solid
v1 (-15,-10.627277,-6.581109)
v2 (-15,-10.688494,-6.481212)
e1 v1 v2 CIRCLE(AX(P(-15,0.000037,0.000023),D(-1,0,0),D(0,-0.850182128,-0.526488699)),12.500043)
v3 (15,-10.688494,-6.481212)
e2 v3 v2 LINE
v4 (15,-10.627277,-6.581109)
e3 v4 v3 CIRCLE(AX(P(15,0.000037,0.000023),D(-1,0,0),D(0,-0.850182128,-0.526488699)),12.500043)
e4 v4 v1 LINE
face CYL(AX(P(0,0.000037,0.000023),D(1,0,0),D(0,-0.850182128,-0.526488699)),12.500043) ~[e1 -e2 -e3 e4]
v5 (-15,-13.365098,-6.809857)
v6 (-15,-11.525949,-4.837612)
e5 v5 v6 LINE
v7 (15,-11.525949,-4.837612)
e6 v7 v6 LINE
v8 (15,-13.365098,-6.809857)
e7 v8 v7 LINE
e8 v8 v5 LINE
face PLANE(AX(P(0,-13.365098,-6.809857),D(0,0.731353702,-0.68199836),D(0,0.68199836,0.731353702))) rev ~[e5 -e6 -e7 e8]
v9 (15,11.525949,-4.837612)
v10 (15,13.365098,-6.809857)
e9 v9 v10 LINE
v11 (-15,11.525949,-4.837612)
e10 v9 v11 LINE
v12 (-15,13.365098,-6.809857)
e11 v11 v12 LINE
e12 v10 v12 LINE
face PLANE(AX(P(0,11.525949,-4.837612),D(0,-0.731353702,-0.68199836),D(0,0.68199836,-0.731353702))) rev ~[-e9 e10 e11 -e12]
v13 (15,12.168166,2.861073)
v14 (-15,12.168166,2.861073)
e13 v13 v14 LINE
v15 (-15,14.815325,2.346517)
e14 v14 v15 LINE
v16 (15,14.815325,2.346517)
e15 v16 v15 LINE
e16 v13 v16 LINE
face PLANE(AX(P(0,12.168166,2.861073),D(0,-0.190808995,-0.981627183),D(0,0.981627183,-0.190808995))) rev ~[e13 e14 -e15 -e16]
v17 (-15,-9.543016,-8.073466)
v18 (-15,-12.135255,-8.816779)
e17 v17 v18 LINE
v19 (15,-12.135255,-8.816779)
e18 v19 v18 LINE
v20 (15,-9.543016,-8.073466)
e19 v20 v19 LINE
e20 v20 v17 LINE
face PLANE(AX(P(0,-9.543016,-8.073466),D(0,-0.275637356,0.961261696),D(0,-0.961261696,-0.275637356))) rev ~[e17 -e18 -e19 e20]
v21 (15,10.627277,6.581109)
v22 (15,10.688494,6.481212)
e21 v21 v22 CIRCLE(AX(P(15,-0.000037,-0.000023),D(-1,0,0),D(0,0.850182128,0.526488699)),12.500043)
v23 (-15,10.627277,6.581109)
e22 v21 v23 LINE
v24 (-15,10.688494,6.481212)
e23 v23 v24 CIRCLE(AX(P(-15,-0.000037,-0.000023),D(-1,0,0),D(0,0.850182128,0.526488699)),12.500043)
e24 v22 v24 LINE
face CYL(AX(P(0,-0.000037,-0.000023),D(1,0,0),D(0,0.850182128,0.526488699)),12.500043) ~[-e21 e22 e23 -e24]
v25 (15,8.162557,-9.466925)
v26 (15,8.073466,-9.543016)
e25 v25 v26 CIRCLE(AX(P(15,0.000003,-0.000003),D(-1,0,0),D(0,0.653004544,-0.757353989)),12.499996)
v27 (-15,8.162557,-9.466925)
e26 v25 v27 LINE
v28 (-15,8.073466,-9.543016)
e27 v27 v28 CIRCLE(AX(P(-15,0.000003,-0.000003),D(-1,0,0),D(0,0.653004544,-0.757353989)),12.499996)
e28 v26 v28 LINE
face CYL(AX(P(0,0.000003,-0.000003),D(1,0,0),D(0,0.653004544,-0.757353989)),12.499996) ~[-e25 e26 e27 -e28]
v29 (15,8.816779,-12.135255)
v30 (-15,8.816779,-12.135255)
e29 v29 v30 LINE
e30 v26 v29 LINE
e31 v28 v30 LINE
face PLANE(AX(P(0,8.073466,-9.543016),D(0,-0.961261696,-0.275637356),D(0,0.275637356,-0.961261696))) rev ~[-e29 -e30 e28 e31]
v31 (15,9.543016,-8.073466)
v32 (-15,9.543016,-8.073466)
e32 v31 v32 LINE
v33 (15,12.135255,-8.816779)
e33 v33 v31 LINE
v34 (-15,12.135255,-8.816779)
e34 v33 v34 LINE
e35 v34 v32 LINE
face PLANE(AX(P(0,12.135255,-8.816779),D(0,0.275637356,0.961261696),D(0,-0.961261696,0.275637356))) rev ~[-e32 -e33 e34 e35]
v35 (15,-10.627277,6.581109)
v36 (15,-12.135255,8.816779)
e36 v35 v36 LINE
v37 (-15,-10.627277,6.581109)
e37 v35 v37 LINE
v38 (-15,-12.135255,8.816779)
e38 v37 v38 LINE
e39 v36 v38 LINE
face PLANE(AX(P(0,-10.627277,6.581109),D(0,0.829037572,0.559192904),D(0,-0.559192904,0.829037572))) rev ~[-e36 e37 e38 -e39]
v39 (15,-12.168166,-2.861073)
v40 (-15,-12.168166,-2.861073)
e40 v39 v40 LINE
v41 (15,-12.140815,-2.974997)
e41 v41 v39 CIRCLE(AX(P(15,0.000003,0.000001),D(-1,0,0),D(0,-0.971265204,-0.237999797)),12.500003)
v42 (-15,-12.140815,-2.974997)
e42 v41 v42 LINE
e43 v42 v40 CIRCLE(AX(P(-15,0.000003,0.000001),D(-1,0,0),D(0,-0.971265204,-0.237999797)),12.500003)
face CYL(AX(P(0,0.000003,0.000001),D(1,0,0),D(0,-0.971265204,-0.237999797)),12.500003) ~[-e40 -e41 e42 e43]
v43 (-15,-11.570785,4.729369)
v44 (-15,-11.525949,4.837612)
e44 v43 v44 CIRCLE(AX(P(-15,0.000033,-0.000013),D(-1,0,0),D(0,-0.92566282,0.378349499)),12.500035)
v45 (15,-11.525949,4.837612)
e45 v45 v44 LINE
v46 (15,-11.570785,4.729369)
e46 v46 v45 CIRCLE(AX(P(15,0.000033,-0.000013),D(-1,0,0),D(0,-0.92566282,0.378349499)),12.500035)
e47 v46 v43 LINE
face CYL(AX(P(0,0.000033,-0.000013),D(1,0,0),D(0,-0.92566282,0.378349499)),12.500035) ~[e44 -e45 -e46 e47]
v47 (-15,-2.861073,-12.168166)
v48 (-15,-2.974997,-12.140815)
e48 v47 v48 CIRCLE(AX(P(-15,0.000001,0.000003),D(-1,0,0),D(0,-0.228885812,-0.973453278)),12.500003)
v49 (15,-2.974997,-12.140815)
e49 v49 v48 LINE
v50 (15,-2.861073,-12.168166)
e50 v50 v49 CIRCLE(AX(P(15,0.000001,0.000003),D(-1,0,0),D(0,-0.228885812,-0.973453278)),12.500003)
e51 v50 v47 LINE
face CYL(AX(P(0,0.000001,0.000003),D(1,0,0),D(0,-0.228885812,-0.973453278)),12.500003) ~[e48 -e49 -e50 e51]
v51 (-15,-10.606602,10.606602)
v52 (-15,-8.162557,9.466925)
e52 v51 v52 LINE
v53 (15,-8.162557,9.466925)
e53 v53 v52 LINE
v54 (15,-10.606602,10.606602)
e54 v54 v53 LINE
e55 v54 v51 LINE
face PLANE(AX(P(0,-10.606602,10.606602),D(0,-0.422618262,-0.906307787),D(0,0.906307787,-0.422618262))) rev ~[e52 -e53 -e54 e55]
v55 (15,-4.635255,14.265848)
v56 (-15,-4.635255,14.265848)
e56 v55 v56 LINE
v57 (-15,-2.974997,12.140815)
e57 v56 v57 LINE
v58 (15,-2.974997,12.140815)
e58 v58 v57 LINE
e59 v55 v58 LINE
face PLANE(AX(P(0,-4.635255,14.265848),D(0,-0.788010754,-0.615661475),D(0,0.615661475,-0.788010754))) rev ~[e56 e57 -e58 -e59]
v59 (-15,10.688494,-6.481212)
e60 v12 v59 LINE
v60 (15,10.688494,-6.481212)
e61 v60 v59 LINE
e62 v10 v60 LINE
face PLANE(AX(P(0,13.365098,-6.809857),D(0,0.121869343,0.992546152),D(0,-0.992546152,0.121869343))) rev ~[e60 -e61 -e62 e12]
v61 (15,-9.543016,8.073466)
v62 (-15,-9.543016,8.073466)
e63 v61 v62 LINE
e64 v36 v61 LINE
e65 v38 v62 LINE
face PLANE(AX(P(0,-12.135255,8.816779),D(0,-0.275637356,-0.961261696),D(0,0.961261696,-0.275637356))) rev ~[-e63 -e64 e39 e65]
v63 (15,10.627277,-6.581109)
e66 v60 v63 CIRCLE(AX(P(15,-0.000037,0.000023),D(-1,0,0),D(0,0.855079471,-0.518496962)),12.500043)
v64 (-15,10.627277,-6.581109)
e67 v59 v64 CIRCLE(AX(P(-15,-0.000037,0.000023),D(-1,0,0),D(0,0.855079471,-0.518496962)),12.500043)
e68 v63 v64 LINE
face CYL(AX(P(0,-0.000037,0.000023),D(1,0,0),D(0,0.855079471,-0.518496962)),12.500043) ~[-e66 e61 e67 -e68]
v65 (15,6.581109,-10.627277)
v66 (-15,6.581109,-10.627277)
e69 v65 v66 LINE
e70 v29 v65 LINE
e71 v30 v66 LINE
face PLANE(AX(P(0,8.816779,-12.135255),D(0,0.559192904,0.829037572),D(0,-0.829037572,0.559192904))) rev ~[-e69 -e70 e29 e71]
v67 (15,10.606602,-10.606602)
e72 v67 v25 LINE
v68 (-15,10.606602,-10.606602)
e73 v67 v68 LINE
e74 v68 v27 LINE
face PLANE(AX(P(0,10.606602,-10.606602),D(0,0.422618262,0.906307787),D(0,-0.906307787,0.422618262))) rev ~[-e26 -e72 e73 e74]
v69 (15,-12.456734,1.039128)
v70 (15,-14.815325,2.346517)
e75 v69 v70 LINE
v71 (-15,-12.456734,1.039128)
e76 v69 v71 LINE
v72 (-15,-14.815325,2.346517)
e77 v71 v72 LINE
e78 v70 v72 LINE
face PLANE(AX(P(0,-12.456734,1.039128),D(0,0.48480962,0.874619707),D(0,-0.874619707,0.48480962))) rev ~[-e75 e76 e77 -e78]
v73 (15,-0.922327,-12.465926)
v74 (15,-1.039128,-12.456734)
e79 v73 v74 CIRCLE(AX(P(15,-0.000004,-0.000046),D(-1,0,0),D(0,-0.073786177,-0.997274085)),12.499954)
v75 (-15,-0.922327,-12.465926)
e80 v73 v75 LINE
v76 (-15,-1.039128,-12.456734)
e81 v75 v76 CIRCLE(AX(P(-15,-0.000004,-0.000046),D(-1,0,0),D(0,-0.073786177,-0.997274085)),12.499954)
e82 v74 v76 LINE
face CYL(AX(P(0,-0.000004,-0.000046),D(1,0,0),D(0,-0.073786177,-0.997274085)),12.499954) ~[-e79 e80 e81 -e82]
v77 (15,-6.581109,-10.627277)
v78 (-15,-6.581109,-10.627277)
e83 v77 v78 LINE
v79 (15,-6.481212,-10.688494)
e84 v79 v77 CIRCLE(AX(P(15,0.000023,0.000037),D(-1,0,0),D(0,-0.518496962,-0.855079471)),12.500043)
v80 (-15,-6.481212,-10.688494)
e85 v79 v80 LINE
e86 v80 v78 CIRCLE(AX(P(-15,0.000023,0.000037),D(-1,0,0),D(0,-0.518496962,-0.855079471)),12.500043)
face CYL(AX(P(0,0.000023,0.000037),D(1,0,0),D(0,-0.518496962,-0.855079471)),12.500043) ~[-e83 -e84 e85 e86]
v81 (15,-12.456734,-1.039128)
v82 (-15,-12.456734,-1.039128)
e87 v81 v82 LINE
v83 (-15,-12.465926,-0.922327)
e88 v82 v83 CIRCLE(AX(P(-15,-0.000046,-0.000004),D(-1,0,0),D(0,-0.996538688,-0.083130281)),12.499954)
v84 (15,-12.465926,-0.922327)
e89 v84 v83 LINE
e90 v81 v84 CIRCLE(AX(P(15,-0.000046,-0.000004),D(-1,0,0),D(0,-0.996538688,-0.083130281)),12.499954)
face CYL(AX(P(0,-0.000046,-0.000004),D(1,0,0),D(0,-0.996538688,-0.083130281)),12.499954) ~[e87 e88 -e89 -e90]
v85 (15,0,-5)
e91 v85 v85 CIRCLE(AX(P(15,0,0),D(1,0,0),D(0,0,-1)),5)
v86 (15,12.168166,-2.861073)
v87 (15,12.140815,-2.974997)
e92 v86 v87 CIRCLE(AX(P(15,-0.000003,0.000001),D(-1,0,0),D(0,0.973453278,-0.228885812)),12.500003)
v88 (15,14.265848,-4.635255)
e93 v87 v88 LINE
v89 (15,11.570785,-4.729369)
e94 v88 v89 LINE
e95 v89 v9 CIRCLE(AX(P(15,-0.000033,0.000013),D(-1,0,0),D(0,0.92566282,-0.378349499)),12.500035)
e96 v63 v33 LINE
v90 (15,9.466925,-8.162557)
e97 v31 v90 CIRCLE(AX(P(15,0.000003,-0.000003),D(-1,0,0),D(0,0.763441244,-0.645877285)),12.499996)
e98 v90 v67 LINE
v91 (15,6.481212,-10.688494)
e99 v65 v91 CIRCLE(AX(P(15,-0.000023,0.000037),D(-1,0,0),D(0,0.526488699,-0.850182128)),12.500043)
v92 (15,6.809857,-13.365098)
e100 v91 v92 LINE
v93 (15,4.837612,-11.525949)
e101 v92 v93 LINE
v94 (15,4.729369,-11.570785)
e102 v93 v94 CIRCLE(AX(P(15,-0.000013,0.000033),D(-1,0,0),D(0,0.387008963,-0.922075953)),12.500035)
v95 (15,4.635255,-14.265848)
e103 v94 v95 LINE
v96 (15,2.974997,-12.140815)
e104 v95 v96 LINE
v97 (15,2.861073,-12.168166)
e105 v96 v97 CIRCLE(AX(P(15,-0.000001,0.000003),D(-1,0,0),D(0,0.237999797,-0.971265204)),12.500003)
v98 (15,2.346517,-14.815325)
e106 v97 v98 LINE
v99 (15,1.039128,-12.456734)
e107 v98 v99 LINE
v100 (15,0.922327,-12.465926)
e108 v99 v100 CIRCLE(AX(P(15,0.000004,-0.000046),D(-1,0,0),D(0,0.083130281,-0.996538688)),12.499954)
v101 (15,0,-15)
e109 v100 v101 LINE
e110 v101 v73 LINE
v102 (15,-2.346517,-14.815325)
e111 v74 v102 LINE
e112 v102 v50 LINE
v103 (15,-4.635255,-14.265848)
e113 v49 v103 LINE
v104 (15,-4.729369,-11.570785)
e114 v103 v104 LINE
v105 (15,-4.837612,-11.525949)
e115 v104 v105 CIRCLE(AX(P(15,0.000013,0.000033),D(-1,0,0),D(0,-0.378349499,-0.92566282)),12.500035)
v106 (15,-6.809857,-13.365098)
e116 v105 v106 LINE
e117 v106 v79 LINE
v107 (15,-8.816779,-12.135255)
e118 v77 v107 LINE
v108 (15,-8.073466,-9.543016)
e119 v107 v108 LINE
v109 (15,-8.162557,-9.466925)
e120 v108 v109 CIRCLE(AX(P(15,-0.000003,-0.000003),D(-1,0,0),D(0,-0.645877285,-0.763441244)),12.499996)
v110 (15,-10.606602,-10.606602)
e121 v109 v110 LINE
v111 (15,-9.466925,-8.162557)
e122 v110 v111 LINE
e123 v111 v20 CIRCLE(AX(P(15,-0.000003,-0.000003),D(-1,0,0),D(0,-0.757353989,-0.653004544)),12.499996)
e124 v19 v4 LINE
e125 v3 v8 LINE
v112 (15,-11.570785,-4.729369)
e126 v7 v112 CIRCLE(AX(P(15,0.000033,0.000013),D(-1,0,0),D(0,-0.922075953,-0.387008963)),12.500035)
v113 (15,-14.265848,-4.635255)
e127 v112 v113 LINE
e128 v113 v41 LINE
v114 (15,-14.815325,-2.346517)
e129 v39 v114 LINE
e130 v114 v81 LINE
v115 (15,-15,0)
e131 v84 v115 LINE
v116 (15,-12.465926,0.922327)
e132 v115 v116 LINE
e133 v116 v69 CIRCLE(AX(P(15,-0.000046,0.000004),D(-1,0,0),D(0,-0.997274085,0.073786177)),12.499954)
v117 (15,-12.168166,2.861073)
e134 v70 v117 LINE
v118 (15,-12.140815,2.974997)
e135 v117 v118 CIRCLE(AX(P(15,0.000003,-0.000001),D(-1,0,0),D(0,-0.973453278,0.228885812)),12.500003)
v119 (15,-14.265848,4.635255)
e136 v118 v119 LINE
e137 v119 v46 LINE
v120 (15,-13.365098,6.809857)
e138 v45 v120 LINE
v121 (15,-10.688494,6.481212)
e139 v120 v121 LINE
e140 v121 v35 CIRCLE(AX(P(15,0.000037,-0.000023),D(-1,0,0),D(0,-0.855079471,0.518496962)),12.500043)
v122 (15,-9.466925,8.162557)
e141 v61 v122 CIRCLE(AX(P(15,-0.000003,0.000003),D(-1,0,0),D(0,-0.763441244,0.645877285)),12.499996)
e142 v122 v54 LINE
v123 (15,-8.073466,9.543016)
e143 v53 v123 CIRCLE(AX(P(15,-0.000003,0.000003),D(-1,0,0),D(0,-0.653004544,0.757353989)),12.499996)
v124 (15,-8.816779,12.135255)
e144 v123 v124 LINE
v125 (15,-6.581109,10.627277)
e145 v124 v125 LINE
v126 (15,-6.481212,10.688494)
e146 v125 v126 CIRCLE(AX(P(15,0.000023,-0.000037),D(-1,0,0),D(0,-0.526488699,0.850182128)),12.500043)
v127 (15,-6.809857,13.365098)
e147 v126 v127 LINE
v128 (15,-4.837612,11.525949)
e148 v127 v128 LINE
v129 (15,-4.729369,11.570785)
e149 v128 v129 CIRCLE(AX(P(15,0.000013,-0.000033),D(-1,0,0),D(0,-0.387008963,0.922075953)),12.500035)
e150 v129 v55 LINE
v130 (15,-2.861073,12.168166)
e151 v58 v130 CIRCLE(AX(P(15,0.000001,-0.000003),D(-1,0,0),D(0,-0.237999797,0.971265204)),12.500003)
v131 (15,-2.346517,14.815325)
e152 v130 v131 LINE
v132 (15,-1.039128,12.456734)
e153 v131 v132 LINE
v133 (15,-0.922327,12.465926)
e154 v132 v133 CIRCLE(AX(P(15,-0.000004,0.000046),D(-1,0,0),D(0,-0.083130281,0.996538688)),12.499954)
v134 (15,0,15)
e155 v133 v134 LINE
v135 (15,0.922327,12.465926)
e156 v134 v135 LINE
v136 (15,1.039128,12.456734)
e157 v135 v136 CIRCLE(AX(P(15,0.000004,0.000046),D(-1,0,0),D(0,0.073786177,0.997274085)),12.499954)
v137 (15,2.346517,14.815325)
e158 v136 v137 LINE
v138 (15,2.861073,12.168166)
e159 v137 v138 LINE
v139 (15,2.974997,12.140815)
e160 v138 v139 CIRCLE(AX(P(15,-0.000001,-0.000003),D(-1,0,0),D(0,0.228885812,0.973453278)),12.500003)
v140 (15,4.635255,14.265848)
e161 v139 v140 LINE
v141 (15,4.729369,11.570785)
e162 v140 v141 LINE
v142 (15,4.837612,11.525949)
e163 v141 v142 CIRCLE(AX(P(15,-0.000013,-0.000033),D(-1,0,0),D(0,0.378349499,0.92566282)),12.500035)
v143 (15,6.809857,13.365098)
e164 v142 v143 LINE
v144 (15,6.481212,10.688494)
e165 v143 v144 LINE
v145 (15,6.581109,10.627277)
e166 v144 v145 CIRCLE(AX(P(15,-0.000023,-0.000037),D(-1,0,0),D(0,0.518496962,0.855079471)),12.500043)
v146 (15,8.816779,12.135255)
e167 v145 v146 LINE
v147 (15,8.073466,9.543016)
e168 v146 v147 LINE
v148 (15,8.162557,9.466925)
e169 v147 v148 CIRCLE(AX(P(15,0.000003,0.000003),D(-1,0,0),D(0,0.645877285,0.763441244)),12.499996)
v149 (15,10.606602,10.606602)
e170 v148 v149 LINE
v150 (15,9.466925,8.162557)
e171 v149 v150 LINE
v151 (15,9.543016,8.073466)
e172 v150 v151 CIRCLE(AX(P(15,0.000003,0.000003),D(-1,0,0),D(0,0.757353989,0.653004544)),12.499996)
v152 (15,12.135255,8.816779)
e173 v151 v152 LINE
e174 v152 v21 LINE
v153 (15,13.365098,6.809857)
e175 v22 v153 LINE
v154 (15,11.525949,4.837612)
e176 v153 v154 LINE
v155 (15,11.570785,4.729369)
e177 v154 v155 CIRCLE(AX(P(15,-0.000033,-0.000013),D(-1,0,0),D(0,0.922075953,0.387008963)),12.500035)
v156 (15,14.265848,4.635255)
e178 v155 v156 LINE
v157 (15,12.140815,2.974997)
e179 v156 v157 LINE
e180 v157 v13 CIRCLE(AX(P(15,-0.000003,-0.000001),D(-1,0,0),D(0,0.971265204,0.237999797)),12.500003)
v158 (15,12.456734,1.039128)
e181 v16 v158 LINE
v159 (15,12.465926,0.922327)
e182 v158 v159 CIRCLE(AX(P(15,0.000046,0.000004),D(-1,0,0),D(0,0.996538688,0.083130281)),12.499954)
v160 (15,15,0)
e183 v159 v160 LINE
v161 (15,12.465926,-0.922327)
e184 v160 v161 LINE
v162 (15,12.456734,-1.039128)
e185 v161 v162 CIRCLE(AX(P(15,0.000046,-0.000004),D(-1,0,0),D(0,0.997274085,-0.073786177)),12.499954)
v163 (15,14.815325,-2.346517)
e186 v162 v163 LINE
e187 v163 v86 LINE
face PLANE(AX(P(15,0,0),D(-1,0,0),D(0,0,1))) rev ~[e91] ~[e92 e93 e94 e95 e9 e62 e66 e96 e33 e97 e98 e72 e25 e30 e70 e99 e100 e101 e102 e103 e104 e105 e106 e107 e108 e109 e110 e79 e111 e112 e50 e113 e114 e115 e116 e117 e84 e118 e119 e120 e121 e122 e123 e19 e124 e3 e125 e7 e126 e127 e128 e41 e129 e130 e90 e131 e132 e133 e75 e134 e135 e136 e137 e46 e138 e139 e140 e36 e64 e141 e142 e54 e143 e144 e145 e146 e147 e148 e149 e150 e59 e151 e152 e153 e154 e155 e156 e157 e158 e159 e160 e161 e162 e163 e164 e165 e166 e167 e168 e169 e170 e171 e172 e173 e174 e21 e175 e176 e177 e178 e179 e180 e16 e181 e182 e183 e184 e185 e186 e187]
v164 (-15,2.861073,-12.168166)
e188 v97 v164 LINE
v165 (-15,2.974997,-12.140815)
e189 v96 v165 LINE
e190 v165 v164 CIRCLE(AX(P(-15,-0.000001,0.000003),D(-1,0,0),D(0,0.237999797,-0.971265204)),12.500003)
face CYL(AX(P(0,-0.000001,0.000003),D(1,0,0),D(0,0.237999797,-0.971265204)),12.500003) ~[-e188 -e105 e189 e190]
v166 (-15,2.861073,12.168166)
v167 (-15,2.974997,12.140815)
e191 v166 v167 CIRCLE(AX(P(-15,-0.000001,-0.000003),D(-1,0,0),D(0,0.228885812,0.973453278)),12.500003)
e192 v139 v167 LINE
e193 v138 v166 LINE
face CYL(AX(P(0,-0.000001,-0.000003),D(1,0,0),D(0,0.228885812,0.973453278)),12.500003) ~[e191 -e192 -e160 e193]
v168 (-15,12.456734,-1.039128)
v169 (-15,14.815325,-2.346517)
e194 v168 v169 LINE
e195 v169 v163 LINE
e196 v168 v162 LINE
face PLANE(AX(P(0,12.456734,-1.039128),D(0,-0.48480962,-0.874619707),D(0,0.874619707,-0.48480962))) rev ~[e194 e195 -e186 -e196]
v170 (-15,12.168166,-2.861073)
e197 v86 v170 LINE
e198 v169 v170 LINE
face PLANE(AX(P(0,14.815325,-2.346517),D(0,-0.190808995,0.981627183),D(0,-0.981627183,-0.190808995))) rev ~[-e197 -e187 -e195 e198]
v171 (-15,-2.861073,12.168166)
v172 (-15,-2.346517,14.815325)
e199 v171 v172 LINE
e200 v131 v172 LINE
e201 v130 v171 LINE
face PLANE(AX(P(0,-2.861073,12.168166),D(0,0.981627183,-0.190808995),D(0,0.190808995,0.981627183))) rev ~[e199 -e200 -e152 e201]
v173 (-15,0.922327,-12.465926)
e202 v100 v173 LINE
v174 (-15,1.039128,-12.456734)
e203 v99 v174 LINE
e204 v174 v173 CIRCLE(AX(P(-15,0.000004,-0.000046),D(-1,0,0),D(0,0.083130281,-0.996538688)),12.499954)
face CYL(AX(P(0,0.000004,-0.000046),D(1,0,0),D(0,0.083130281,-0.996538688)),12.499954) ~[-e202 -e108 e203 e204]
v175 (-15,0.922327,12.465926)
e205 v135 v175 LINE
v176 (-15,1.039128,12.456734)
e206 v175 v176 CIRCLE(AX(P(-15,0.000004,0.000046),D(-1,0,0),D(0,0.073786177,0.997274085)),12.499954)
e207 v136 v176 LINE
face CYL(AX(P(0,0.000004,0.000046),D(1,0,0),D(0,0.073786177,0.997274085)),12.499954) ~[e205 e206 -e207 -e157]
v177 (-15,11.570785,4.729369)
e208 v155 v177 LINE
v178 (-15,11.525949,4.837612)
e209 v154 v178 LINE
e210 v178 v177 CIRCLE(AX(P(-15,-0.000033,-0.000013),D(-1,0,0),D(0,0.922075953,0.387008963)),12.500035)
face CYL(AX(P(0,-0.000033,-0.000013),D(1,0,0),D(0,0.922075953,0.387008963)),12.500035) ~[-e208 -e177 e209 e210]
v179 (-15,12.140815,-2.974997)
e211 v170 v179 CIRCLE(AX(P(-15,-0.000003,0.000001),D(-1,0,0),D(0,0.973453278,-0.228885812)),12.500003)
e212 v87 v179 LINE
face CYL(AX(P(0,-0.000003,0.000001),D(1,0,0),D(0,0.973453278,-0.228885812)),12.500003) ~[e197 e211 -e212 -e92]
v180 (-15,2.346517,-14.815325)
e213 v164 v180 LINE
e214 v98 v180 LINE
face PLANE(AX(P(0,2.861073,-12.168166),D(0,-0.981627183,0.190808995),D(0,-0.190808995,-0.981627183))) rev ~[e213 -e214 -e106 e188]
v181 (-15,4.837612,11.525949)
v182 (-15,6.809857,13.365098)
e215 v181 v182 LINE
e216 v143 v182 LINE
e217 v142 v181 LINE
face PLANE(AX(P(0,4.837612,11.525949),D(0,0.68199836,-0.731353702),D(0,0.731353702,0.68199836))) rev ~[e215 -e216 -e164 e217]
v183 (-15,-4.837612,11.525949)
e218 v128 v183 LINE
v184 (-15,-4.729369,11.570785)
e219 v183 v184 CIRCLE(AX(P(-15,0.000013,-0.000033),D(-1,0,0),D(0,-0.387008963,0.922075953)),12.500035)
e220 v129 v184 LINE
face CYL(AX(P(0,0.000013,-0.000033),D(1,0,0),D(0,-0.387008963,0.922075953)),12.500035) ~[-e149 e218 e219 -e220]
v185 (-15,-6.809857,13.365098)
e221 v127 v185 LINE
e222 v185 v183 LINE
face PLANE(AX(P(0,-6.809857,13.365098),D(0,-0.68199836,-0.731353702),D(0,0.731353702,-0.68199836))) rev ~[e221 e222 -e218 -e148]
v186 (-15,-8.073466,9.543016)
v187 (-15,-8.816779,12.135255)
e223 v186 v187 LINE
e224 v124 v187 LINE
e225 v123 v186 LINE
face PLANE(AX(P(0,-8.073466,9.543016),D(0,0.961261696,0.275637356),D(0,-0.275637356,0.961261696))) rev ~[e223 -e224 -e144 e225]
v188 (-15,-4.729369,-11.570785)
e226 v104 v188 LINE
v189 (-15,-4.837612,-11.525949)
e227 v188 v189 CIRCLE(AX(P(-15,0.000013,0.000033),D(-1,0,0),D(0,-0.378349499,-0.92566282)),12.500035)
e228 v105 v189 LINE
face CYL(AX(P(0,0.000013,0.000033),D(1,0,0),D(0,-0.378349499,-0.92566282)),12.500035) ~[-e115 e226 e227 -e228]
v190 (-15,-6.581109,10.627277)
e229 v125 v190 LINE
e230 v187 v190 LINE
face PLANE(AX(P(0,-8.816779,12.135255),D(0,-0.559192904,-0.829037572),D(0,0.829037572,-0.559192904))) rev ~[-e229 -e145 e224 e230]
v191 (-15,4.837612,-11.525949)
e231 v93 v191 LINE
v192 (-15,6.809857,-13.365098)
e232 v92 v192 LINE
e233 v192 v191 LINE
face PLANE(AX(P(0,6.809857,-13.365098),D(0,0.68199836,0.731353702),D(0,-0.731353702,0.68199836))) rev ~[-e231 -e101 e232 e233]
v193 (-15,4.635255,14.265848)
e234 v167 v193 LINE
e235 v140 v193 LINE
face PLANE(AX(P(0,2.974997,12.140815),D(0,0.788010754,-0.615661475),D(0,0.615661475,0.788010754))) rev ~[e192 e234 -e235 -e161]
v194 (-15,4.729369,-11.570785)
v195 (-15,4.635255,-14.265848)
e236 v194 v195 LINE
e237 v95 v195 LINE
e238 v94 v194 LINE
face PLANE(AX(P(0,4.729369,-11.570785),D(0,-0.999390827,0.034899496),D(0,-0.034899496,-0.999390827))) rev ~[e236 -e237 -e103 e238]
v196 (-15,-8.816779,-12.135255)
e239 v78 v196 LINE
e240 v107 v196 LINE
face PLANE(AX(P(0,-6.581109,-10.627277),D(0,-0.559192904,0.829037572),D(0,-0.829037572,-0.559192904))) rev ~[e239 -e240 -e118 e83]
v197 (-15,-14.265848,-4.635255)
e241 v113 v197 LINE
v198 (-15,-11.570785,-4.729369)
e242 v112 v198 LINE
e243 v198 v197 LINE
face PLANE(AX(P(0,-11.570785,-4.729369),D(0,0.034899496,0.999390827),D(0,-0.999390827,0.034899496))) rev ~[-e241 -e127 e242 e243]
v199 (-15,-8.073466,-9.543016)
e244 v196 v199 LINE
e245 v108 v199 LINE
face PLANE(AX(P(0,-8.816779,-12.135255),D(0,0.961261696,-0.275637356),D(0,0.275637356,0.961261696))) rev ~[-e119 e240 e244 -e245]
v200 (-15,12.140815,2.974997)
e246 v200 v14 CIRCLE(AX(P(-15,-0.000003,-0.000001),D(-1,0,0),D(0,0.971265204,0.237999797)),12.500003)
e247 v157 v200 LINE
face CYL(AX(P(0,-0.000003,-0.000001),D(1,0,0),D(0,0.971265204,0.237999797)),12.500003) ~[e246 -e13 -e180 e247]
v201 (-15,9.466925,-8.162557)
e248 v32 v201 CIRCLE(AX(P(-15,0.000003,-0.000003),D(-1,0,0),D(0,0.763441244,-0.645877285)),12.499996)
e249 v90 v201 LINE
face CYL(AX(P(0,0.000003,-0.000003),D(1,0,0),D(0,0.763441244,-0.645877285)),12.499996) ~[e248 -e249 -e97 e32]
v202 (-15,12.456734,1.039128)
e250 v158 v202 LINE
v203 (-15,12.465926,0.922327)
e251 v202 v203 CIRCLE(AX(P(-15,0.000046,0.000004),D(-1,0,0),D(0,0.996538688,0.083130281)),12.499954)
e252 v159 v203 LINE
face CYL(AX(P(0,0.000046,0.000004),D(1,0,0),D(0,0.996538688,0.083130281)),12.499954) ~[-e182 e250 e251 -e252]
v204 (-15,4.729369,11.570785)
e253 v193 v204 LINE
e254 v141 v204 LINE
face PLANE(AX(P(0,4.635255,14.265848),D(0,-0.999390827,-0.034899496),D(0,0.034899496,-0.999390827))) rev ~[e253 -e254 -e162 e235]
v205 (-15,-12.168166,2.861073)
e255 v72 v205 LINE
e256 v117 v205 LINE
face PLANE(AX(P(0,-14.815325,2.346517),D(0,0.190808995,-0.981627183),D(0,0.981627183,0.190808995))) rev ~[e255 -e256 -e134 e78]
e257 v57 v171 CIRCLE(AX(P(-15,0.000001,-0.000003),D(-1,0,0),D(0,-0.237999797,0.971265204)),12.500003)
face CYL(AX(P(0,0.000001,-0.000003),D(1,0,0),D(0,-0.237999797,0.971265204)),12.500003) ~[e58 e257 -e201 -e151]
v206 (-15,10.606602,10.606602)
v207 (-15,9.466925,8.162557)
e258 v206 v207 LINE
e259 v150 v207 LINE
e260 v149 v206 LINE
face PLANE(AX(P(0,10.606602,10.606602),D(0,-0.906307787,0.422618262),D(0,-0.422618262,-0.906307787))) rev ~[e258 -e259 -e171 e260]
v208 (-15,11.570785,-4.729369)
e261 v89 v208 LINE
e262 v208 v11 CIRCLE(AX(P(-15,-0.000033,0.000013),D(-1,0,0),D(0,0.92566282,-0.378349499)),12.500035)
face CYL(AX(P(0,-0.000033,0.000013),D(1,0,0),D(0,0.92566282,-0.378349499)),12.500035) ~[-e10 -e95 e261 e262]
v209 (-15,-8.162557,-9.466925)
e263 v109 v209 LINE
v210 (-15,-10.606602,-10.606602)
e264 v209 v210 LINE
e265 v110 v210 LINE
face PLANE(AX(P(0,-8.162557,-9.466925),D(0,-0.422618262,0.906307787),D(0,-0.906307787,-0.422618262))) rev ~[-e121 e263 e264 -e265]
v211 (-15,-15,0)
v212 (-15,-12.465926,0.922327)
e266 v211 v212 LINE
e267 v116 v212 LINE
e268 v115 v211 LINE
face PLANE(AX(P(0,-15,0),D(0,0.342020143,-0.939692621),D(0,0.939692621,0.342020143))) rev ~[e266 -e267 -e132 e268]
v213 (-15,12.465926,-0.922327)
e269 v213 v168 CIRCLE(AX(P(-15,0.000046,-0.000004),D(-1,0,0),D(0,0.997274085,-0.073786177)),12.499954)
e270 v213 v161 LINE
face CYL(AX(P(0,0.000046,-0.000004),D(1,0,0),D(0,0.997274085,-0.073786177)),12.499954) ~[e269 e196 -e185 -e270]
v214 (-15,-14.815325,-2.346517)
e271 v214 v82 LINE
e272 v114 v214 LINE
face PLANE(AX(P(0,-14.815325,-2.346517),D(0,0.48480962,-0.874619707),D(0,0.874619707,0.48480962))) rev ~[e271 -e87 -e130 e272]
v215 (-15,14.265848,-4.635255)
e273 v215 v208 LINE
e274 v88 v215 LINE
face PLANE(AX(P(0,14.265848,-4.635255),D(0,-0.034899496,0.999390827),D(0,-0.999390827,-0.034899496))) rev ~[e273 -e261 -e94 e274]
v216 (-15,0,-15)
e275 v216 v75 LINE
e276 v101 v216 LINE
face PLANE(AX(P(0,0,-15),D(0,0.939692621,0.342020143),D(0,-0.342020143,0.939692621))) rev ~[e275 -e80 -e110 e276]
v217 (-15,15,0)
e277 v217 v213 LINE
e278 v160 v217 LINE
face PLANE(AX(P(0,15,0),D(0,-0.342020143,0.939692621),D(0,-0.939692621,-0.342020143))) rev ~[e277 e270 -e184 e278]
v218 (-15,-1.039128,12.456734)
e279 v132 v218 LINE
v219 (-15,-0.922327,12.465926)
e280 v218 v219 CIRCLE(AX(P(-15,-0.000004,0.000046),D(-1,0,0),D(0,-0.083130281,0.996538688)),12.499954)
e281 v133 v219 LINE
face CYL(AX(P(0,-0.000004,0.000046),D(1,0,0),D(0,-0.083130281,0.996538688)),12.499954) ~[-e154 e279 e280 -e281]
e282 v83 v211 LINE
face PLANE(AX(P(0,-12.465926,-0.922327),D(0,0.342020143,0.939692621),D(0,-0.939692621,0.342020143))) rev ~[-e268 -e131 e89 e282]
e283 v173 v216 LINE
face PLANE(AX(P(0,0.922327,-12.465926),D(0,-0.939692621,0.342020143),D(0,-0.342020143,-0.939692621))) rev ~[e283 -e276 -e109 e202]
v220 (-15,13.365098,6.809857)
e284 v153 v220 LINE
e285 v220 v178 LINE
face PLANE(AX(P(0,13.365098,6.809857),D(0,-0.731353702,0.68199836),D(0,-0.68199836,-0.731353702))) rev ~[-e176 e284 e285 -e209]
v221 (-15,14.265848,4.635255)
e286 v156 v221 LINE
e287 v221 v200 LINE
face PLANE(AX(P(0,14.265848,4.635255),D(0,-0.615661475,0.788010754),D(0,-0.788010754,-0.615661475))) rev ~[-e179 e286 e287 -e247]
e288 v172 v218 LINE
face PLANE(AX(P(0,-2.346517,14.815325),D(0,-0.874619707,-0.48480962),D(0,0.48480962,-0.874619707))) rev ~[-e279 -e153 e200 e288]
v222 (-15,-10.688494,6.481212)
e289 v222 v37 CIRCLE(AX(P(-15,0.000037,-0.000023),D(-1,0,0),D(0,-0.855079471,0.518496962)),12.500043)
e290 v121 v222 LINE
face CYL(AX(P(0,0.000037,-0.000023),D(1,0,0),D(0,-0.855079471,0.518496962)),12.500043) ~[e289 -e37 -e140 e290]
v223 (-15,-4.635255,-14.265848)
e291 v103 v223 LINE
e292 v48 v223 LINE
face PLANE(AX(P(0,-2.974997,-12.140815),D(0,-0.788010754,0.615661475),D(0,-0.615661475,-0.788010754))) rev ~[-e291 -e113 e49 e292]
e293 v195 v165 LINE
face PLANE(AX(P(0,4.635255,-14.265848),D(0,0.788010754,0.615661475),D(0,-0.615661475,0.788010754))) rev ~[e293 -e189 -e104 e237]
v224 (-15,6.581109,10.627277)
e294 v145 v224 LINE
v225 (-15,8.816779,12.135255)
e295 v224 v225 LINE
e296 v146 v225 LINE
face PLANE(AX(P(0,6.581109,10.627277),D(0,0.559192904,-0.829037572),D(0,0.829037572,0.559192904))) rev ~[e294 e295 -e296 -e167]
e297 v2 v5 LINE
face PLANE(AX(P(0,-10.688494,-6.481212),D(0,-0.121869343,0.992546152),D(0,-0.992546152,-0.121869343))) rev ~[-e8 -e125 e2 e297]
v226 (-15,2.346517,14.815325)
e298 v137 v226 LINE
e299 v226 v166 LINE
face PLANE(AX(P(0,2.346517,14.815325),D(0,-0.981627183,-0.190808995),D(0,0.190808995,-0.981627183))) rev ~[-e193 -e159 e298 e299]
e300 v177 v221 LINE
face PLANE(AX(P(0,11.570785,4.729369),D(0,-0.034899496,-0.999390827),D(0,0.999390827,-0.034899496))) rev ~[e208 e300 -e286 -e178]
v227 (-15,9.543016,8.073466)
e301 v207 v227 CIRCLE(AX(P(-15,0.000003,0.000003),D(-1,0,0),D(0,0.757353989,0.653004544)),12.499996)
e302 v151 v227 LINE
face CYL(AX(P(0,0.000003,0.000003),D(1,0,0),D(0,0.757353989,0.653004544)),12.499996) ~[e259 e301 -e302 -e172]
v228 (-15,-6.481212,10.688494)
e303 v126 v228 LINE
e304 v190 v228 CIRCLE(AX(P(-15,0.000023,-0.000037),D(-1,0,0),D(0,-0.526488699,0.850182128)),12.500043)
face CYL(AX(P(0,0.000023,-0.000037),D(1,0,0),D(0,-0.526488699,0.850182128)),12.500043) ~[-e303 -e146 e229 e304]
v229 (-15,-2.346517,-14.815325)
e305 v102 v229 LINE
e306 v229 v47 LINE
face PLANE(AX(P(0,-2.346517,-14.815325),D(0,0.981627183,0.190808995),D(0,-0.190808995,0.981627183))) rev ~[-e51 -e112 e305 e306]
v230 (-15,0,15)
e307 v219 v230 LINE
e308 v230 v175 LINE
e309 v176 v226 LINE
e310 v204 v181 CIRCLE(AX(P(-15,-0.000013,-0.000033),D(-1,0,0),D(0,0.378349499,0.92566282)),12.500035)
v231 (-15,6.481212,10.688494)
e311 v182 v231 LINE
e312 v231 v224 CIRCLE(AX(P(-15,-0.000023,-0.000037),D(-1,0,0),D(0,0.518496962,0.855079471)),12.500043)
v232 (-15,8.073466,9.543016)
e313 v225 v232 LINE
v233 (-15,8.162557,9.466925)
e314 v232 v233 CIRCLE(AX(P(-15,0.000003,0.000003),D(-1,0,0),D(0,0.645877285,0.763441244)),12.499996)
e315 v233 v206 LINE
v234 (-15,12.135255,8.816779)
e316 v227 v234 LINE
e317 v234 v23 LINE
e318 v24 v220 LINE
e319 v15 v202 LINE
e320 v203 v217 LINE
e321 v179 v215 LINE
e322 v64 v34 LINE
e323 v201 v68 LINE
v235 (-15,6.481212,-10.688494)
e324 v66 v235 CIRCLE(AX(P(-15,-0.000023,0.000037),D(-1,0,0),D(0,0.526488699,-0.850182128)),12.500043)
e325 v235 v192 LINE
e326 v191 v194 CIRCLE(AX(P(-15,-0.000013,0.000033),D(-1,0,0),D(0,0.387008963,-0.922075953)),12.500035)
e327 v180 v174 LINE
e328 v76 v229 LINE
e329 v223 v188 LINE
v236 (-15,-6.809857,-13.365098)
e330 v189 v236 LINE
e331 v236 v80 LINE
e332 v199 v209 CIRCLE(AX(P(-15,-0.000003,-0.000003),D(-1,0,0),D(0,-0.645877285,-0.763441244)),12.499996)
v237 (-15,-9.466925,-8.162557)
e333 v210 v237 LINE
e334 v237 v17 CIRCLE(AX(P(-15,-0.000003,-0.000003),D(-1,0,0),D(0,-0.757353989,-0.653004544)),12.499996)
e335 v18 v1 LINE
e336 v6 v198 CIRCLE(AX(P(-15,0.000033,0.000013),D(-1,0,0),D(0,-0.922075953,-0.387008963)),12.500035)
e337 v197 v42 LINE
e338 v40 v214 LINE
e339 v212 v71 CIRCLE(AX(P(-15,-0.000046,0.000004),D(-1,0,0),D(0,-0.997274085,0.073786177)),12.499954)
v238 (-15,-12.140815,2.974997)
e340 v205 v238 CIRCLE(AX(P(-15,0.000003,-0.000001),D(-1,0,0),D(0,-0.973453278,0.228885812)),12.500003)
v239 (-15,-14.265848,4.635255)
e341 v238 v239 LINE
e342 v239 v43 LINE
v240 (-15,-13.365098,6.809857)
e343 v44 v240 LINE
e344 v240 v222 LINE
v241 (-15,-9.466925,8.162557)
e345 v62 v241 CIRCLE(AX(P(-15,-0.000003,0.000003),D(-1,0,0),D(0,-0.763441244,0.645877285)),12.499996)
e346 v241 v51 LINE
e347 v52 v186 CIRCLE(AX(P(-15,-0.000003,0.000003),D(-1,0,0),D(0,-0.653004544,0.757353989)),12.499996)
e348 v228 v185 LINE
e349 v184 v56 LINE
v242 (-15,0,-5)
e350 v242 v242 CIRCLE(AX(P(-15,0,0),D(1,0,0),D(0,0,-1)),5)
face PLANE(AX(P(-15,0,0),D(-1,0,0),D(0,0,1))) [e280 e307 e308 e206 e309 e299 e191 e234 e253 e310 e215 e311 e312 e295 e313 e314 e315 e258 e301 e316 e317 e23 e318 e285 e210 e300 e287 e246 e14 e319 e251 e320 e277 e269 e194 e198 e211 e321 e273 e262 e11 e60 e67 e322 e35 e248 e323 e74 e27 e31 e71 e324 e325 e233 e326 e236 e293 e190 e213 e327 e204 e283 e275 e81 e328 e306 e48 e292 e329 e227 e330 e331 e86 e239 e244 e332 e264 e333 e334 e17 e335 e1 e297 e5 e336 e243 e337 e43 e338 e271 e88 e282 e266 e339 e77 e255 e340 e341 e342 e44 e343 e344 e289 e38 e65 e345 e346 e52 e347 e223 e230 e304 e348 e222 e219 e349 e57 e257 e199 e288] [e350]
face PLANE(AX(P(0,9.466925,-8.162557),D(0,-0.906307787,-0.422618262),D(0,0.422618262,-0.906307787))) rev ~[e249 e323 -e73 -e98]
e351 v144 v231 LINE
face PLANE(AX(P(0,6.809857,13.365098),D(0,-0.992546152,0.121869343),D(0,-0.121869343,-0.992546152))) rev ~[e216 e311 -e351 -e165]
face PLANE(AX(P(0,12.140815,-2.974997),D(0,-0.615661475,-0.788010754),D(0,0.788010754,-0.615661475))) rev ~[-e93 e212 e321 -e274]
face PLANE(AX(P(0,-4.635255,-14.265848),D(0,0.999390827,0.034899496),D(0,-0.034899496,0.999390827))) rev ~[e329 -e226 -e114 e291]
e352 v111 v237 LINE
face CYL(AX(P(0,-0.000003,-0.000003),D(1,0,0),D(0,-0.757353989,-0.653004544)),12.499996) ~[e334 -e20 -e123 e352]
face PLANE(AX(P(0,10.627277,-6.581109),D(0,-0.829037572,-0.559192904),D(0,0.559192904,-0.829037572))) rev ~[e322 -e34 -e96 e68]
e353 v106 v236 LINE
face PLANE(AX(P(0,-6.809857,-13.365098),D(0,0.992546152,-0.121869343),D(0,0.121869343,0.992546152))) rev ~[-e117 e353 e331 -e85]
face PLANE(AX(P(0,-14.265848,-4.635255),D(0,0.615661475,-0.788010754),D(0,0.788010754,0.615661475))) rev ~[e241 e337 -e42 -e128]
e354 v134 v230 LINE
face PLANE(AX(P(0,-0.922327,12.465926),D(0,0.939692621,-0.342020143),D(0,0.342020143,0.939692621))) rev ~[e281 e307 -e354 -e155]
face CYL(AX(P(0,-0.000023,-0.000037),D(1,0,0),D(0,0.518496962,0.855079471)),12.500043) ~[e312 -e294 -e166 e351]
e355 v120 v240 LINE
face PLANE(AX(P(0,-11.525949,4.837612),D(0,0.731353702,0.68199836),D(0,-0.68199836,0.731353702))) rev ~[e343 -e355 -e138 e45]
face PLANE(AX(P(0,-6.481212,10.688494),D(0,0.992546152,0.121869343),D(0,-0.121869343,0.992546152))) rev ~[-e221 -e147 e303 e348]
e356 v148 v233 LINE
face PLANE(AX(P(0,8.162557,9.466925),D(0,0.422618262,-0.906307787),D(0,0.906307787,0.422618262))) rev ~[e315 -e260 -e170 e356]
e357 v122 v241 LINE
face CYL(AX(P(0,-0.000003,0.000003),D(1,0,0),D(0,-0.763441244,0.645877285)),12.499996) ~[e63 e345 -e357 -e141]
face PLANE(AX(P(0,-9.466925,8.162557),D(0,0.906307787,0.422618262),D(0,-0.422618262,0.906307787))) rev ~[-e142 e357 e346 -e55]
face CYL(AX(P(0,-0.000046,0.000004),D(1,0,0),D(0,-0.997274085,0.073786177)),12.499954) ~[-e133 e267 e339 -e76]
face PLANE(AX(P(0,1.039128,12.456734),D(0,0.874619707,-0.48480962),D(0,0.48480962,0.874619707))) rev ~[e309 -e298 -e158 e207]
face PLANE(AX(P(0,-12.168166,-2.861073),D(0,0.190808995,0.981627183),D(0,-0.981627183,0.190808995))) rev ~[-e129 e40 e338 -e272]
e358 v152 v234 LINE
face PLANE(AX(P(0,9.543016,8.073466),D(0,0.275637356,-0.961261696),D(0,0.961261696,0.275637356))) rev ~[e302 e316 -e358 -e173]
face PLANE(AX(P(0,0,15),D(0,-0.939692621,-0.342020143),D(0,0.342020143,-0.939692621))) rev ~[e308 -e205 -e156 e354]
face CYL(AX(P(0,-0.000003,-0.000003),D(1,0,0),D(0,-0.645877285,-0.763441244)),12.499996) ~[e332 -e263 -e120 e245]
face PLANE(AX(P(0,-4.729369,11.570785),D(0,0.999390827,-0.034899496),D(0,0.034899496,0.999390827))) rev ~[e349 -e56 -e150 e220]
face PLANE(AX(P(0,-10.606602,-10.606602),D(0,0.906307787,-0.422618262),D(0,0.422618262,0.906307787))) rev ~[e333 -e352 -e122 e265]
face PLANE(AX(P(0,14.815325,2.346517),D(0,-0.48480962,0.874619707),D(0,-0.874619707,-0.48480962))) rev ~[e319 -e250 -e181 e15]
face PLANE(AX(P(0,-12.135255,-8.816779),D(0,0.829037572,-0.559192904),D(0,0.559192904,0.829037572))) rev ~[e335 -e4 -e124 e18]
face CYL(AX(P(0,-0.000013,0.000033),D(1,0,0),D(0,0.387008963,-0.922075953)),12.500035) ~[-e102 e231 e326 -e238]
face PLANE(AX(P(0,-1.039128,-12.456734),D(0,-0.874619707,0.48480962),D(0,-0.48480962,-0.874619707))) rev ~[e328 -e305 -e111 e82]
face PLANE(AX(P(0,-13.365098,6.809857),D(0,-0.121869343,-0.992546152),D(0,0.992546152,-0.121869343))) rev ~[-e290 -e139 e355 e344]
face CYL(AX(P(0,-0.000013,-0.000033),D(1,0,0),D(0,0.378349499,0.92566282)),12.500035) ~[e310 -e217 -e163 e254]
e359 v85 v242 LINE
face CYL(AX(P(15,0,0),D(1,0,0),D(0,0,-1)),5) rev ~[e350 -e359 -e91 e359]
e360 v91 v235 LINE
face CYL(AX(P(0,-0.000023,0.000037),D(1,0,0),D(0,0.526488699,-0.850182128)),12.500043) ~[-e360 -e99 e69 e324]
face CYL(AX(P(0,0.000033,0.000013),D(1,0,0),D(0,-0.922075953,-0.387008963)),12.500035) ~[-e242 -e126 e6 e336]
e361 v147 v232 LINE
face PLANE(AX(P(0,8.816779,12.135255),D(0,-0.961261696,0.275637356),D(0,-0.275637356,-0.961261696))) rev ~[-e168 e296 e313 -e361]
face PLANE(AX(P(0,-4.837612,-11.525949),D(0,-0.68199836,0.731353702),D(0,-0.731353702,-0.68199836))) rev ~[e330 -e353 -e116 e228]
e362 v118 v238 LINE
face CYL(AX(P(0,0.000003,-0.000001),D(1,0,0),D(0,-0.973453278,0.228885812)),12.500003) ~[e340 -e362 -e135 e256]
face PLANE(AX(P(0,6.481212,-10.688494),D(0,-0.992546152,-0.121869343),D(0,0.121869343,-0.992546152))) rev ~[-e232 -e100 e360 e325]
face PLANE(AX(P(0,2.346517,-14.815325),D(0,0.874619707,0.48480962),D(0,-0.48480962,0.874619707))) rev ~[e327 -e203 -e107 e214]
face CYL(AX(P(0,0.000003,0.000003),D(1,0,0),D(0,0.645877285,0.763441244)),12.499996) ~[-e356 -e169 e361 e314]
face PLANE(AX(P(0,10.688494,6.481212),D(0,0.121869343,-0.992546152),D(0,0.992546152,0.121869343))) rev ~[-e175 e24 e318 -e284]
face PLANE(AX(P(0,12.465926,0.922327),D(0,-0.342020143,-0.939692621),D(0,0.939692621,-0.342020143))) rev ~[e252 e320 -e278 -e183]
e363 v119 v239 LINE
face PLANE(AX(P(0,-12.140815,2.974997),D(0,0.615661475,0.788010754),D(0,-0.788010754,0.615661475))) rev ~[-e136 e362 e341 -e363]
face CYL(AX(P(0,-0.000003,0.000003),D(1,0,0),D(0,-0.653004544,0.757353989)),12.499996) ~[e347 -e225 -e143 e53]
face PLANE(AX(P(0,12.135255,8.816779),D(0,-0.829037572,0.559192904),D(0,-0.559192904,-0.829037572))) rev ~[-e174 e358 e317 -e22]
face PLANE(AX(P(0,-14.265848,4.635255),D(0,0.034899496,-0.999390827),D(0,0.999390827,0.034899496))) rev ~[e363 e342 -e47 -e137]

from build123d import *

# Parameters (mm, degrees)
BOSS_EXTRUDE1_DEPTH = 15
SKETCH2_R           = 5
CUT_EXTRUDE2_DEPTH  = 30


with BuildPart() as part:
    # Sketch1 → Boss-Extrude1 (new, symmetric)
    with BuildSketch(Plane(origin=(0, 0, 0), x_dir=(0, 0, -1), z_dir=(1, 0, 0))):
        with BuildLine():
            Line((2.346516976, 14.815325109), (2.861072583, 12.168165995))
            ThreePointArc((2.861072583, 12.168165995), (2.918067048, 12.154624005), (2.974997424, 12.14081506))
            Line((2.974997424, 12.14081506), (4.635254916, 14.265847744))
            Line((4.635254916, 14.265847744), (4.729368569, 11.570785321))
            ThreePointArc((4.729368569, 11.570785321), (4.783542905, 11.548494156), (4.837612178, 11.52594935))
            Line((4.837612178, 11.52594935), (6.809857496, 13.365097863))
            Line((6.809857496, 13.365097863), (6.481211806, 10.688493511))
            ThreePointArc((6.481211806, 10.688493511), (6.531232059, 10.658002054), (6.581108865, 10.627276514))
            Line((6.581108865, 10.627276514), (8.816778784, 12.135254916))
            Line((8.816778784, 12.135254916), (8.073466098, 9.543015517))
            ThreePointArc((8.073466098, 9.543015517), (8.118100604, 9.50507457), (8.16255681, 9.466924861))
            Line((8.16255681, 9.466924861), (10.606601718, 10.606601718))
            Line((10.606601718, 10.606601718), (9.466924861, 8.16255681))
            ThreePointArc((9.466924861, 8.16255681), (9.50507457, 8.118100604), (9.543015517, 8.073466098))
            Line((9.543015517, 8.073466098), (12.135254916, 8.816778784))
            Line((12.135254916, 8.816778784), (10.627276514, 6.581108865))
            ThreePointArc((10.627276514, 6.581108865), (10.658002054, 6.531232059), (10.688493511, 6.481211806))
            Line((10.688493511, 6.481211806), (13.365097863, 6.809857496))
            Line((13.365097863, 6.809857496), (11.52594935, 4.837612178))
            ThreePointArc((11.52594935, 4.837612178), (11.548494156, 4.783542905), (11.570785321, 4.729368569))
            Line((11.570785321, 4.729368569), (14.265847744, 4.635254916))
            Line((14.265847744, 4.635254916), (12.14081506, 2.974997424))
            ThreePointArc((12.14081506, 2.974997424), (12.154624005, 2.918067048), (12.168165995, 2.861072583))
            Line((12.168165995, 2.861072583), (14.815325109, 2.346516976))
            Line((14.815325109, 2.346516976), (12.456733611, 1.03912836))
            ThreePointArc((12.456733611, 1.03912836), (12.461466672, 0.980738697), (12.465926038, 0.922327493))
            Line((12.465926038, 0.922327493), (15, 0))
            Line((15, 0), (12.465926038, -0.922327493))
            ThreePointArc((12.465926038, -0.922327493), (12.461466672, -0.980738697), (12.456733611, -1.03912836))
            Line((12.456733611, -1.03912836), (14.815325109, -2.346516976))
            Line((14.815325109, -2.346516976), (12.168165995, -2.861072583))
            ThreePointArc((12.168165995, -2.861072583), (12.154624005, -2.918067048), (12.14081506, -2.974997424))
            Line((12.14081506, -2.974997424), (14.265847744, -4.635254916))
            Line((14.265847744, -4.635254916), (11.570785321, -4.729368569))
            ThreePointArc((11.570785321, -4.729368569), (11.548494156, -4.783542905), (11.52594935, -4.837612178))
            Line((11.52594935, -4.837612178), (13.365097863, -6.809857496))
            Line((13.365097863, -6.809857496), (10.688493511, -6.481211806))
            ThreePointArc((10.688493511, -6.481211806), (10.658002054, -6.531232059), (10.627276514, -6.581108865))
            Line((10.627276514, -6.581108865), (12.135254916, -8.816778784))
            Line((12.135254916, -8.816778784), (9.543015517, -8.073466098))
            ThreePointArc((9.543015517, -8.073466098), (9.50507457, -8.118100604), (9.466924861, -8.16255681))
            Line((9.466924861, -8.16255681), (10.606601718, -10.606601718))
            Line((10.606601718, -10.606601718), (8.16255681, -9.466924861))
            ThreePointArc((8.16255681, -9.466924861), (8.118100604, -9.50507457), (8.073466098, -9.543015517))
            Line((8.073466098, -9.543015517), (8.816778784, -12.135254916))
            Line((8.816778784, -12.135254916), (6.581108865, -10.627276514))
            ThreePointArc((6.581108865, -10.627276514), (6.531232059, -10.658002054), (6.481211806, -10.688493511))
            Line((6.481211806, -10.688493511), (6.809857496, -13.365097863))
            Line((6.809857496, -13.365097863), (4.837612178, -11.52594935))
            ThreePointArc((4.837612178, -11.52594935), (4.783542905, -11.548494156), (4.729368569, -11.570785321))
            Line((4.729368569, -11.570785321), (4.635254916, -14.265847744))
            Line((4.635254916, -14.265847744), (2.974997424, -12.14081506))
            ThreePointArc((2.974997424, -12.14081506), (2.918067048, -12.154624005), (2.861072583, -12.168165995))
            Line((2.861072583, -12.168165995), (2.346516976, -14.815325109))
            Line((2.346516976, -14.815325109), (1.03912836, -12.456733611))
            ThreePointArc((1.03912836, -12.456733611), (0.980738697, -12.461466672), (0.922327493, -12.465926038))
            Line((0.922327493, -12.465926038), (0, -15))
            Line((0, -15), (-0.922327493, -12.465926038))
            ThreePointArc((-0.922327493, -12.465926038), (-0.980738697, -12.461466672), (-1.03912836, -12.456733611))
            Line((-1.03912836, -12.456733611), (-2.346516976, -14.815325109))
            Line((-2.346516976, -14.815325109), (-2.861072583, -12.168165995))
            ThreePointArc((-2.861072583, -12.168165995), (-2.918067048, -12.154624005), (-2.974997424, -12.14081506))
            Line((-2.974997424, -12.14081506), (-4.635254916, -14.265847744))
            Line((-4.635254916, -14.265847744), (-4.729368569, -11.570785321))
            ThreePointArc((-4.729368569, -11.570785321), (-4.783542905, -11.548494156), (-4.837612178, -11.52594935))
            Line((-4.837612178, -11.52594935), (-6.809857496, -13.365097863))
            Line((-6.809857496, -13.365097863), (-6.481211806, -10.688493511))
            ThreePointArc((-6.481211806, -10.688493511), (-6.531232059, -10.658002054), (-6.581108865, -10.627276514))
            Line((-6.581108865, -10.627276514), (-8.816778784, -12.135254916))
            Line((-8.816778784, -12.135254916), (-8.073466098, -9.543015517))
            ThreePointArc((-8.073466098, -9.543015517), (-8.118100604, -9.50507457), (-8.16255681, -9.466924861))
            Line((-8.16255681, -9.466924861), (-10.606601718, -10.606601718))
            Line((-10.606601718, -10.606601718), (-9.466924861, -8.16255681))
            ThreePointArc((-9.466924861, -8.16255681), (-9.50507457, -8.118100604), (-9.543015517, -8.073466098))
            Line((-9.543015517, -8.073466098), (-12.135254916, -8.816778784))
            Line((-12.135254916, -8.816778784), (-10.627276514, -6.581108865))
            ThreePointArc((-10.627276514, -6.581108865), (-10.658002054, -6.531232059), (-10.688493511, -6.481211806))
            Line((-10.688493511, -6.481211806), (-13.365097863, -6.809857496))
            Line((-13.365097863, -6.809857496), (-11.52594935, -4.837612178))
            ThreePointArc((-11.52594935, -4.837612178), (-11.548494156, -4.783542905), (-11.570785321, -4.729368569))
            Line((-11.570785321, -4.729368569), (-14.265847744, -4.635254916))
            Line((-14.265847744, -4.635254916), (-12.14081506, -2.974997424))
            ThreePointArc((-12.14081506, -2.974997424), (-12.154624005, -2.918067048), (-12.168165995, -2.861072583))
            Line((-12.168165995, -2.861072583), (-14.815325109, -2.346516976))
            Line((-14.815325109, -2.346516976), (-12.456733611, -1.03912836))
            ThreePointArc((-12.456733611, -1.03912836), (-12.461466672, -0.980738697), (-12.465926038, -0.922327493))
            Line((-12.465926038, -0.922327493), (-15, 0))
            Line((-15, 0), (-12.465926038, 0.922327493))
            ThreePointArc((-12.465926038, 0.922327493), (-12.461466672, 0.980738697), (-12.456733611, 1.03912836))
            Line((-12.456733611, 1.03912836), (-14.815325109, 2.346516976))
            Line((-14.815325109, 2.346516976), (-12.168165995, 2.861072583))
            ThreePointArc((-12.168165995, 2.861072583), (-12.154624005, 2.918067048), (-12.14081506, 2.974997424))
            Line((-12.14081506, 2.974997424), (-14.265847744, 4.635254916))
            Line((-14.265847744, 4.635254916), (-11.570785321, 4.729368569))
            ThreePointArc((-11.570785321, 4.729368569), (-11.548494156, 4.783542905), (-11.52594935, 4.837612178))
            Line((-11.52594935, 4.837612178), (-13.365097863, 6.809857496))
            Line((-13.365097863, 6.809857496), (-10.688493511, 6.481211806))
            ThreePointArc((-10.688493511, 6.481211806), (-10.658002054, 6.531232059), (-10.627276514, 6.581108865))
            Line((-10.627276514, 6.581108865), (-12.135254916, 8.816778784))
            Line((-12.135254916, 8.816778784), (-9.543015517, 8.073466098))
            ThreePointArc((-9.543015517, 8.073466098), (-9.50507457, 8.118100604), (-9.466924861, 8.16255681))
            Line((-9.466924861, 8.16255681), (-10.606601718, 10.606601718))
            Line((-10.606601718, 10.606601718), (-8.16255681, 9.466924861))
            ThreePointArc((-8.16255681, 9.466924861), (-8.118100604, 9.50507457), (-8.073466098, 9.543015517))
            Line((-8.073466098, 9.543015517), (-8.816778784, 12.135254916))
            Line((-8.816778784, 12.135254916), (-6.581108865, 10.627276514))
            ThreePointArc((-6.581108865, 10.627276514), (-6.531232059, 10.658002054), (-6.481211806, 10.688493511))
            Line((-6.481211806, 10.688493511), (-6.809857496, 13.365097863))
            Line((-6.809857496, 13.365097863), (-4.837612178, 11.52594935))
            ThreePointArc((-4.837612178, 11.52594935), (-4.783542905, 11.548494156), (-4.729368569, 11.570785321))
            Line((-4.729368569, 11.570785321), (-4.635254916, 14.265847744))
            Line((-4.635254916, 14.265847744), (-2.974997424, 12.14081506))
            ThreePointArc((-2.974997424, 12.14081506), (-2.918067048, 12.154624005), (-2.861072583, 12.168165995))
            Line((-2.861072583, 12.168165995), (-2.346516976, 14.815325109))
            Line((-2.346516976, 14.815325109), (-1.03912836, 12.456733611))
            ThreePointArc((-1.03912836, 12.456733611), (-0.980738697, 12.461466672), (-0.922327493, 12.465926038))
            Line((-0.922327493, 12.465926038), (0, 15))
            Line((0, 15), (0.922327493, 12.465926038))
            ThreePointArc((0.922327493, 12.465926038), (0.980738697, 12.461466672), (1.03912836, 12.456733611))
            Line((1.03912836, 12.456733611), (2.346516976, 14.815325109))
        make_face()
    extrude(amount=BOSS_EXTRUDE1_DEPTH, both=True)

    # Sketch2 → Cut-Extrude2 (cut)
    with BuildSketch(Plane(origin=(15, 0, 0), x_dir=(0, 0, -1), z_dir=(1, 0, 0))):
        Circle(SKETCH2_R)
    extrude(amount=-CUT_EXTRUDE2_DEPTH, mode=Mode.SUBTRACT)


solid = part.part
